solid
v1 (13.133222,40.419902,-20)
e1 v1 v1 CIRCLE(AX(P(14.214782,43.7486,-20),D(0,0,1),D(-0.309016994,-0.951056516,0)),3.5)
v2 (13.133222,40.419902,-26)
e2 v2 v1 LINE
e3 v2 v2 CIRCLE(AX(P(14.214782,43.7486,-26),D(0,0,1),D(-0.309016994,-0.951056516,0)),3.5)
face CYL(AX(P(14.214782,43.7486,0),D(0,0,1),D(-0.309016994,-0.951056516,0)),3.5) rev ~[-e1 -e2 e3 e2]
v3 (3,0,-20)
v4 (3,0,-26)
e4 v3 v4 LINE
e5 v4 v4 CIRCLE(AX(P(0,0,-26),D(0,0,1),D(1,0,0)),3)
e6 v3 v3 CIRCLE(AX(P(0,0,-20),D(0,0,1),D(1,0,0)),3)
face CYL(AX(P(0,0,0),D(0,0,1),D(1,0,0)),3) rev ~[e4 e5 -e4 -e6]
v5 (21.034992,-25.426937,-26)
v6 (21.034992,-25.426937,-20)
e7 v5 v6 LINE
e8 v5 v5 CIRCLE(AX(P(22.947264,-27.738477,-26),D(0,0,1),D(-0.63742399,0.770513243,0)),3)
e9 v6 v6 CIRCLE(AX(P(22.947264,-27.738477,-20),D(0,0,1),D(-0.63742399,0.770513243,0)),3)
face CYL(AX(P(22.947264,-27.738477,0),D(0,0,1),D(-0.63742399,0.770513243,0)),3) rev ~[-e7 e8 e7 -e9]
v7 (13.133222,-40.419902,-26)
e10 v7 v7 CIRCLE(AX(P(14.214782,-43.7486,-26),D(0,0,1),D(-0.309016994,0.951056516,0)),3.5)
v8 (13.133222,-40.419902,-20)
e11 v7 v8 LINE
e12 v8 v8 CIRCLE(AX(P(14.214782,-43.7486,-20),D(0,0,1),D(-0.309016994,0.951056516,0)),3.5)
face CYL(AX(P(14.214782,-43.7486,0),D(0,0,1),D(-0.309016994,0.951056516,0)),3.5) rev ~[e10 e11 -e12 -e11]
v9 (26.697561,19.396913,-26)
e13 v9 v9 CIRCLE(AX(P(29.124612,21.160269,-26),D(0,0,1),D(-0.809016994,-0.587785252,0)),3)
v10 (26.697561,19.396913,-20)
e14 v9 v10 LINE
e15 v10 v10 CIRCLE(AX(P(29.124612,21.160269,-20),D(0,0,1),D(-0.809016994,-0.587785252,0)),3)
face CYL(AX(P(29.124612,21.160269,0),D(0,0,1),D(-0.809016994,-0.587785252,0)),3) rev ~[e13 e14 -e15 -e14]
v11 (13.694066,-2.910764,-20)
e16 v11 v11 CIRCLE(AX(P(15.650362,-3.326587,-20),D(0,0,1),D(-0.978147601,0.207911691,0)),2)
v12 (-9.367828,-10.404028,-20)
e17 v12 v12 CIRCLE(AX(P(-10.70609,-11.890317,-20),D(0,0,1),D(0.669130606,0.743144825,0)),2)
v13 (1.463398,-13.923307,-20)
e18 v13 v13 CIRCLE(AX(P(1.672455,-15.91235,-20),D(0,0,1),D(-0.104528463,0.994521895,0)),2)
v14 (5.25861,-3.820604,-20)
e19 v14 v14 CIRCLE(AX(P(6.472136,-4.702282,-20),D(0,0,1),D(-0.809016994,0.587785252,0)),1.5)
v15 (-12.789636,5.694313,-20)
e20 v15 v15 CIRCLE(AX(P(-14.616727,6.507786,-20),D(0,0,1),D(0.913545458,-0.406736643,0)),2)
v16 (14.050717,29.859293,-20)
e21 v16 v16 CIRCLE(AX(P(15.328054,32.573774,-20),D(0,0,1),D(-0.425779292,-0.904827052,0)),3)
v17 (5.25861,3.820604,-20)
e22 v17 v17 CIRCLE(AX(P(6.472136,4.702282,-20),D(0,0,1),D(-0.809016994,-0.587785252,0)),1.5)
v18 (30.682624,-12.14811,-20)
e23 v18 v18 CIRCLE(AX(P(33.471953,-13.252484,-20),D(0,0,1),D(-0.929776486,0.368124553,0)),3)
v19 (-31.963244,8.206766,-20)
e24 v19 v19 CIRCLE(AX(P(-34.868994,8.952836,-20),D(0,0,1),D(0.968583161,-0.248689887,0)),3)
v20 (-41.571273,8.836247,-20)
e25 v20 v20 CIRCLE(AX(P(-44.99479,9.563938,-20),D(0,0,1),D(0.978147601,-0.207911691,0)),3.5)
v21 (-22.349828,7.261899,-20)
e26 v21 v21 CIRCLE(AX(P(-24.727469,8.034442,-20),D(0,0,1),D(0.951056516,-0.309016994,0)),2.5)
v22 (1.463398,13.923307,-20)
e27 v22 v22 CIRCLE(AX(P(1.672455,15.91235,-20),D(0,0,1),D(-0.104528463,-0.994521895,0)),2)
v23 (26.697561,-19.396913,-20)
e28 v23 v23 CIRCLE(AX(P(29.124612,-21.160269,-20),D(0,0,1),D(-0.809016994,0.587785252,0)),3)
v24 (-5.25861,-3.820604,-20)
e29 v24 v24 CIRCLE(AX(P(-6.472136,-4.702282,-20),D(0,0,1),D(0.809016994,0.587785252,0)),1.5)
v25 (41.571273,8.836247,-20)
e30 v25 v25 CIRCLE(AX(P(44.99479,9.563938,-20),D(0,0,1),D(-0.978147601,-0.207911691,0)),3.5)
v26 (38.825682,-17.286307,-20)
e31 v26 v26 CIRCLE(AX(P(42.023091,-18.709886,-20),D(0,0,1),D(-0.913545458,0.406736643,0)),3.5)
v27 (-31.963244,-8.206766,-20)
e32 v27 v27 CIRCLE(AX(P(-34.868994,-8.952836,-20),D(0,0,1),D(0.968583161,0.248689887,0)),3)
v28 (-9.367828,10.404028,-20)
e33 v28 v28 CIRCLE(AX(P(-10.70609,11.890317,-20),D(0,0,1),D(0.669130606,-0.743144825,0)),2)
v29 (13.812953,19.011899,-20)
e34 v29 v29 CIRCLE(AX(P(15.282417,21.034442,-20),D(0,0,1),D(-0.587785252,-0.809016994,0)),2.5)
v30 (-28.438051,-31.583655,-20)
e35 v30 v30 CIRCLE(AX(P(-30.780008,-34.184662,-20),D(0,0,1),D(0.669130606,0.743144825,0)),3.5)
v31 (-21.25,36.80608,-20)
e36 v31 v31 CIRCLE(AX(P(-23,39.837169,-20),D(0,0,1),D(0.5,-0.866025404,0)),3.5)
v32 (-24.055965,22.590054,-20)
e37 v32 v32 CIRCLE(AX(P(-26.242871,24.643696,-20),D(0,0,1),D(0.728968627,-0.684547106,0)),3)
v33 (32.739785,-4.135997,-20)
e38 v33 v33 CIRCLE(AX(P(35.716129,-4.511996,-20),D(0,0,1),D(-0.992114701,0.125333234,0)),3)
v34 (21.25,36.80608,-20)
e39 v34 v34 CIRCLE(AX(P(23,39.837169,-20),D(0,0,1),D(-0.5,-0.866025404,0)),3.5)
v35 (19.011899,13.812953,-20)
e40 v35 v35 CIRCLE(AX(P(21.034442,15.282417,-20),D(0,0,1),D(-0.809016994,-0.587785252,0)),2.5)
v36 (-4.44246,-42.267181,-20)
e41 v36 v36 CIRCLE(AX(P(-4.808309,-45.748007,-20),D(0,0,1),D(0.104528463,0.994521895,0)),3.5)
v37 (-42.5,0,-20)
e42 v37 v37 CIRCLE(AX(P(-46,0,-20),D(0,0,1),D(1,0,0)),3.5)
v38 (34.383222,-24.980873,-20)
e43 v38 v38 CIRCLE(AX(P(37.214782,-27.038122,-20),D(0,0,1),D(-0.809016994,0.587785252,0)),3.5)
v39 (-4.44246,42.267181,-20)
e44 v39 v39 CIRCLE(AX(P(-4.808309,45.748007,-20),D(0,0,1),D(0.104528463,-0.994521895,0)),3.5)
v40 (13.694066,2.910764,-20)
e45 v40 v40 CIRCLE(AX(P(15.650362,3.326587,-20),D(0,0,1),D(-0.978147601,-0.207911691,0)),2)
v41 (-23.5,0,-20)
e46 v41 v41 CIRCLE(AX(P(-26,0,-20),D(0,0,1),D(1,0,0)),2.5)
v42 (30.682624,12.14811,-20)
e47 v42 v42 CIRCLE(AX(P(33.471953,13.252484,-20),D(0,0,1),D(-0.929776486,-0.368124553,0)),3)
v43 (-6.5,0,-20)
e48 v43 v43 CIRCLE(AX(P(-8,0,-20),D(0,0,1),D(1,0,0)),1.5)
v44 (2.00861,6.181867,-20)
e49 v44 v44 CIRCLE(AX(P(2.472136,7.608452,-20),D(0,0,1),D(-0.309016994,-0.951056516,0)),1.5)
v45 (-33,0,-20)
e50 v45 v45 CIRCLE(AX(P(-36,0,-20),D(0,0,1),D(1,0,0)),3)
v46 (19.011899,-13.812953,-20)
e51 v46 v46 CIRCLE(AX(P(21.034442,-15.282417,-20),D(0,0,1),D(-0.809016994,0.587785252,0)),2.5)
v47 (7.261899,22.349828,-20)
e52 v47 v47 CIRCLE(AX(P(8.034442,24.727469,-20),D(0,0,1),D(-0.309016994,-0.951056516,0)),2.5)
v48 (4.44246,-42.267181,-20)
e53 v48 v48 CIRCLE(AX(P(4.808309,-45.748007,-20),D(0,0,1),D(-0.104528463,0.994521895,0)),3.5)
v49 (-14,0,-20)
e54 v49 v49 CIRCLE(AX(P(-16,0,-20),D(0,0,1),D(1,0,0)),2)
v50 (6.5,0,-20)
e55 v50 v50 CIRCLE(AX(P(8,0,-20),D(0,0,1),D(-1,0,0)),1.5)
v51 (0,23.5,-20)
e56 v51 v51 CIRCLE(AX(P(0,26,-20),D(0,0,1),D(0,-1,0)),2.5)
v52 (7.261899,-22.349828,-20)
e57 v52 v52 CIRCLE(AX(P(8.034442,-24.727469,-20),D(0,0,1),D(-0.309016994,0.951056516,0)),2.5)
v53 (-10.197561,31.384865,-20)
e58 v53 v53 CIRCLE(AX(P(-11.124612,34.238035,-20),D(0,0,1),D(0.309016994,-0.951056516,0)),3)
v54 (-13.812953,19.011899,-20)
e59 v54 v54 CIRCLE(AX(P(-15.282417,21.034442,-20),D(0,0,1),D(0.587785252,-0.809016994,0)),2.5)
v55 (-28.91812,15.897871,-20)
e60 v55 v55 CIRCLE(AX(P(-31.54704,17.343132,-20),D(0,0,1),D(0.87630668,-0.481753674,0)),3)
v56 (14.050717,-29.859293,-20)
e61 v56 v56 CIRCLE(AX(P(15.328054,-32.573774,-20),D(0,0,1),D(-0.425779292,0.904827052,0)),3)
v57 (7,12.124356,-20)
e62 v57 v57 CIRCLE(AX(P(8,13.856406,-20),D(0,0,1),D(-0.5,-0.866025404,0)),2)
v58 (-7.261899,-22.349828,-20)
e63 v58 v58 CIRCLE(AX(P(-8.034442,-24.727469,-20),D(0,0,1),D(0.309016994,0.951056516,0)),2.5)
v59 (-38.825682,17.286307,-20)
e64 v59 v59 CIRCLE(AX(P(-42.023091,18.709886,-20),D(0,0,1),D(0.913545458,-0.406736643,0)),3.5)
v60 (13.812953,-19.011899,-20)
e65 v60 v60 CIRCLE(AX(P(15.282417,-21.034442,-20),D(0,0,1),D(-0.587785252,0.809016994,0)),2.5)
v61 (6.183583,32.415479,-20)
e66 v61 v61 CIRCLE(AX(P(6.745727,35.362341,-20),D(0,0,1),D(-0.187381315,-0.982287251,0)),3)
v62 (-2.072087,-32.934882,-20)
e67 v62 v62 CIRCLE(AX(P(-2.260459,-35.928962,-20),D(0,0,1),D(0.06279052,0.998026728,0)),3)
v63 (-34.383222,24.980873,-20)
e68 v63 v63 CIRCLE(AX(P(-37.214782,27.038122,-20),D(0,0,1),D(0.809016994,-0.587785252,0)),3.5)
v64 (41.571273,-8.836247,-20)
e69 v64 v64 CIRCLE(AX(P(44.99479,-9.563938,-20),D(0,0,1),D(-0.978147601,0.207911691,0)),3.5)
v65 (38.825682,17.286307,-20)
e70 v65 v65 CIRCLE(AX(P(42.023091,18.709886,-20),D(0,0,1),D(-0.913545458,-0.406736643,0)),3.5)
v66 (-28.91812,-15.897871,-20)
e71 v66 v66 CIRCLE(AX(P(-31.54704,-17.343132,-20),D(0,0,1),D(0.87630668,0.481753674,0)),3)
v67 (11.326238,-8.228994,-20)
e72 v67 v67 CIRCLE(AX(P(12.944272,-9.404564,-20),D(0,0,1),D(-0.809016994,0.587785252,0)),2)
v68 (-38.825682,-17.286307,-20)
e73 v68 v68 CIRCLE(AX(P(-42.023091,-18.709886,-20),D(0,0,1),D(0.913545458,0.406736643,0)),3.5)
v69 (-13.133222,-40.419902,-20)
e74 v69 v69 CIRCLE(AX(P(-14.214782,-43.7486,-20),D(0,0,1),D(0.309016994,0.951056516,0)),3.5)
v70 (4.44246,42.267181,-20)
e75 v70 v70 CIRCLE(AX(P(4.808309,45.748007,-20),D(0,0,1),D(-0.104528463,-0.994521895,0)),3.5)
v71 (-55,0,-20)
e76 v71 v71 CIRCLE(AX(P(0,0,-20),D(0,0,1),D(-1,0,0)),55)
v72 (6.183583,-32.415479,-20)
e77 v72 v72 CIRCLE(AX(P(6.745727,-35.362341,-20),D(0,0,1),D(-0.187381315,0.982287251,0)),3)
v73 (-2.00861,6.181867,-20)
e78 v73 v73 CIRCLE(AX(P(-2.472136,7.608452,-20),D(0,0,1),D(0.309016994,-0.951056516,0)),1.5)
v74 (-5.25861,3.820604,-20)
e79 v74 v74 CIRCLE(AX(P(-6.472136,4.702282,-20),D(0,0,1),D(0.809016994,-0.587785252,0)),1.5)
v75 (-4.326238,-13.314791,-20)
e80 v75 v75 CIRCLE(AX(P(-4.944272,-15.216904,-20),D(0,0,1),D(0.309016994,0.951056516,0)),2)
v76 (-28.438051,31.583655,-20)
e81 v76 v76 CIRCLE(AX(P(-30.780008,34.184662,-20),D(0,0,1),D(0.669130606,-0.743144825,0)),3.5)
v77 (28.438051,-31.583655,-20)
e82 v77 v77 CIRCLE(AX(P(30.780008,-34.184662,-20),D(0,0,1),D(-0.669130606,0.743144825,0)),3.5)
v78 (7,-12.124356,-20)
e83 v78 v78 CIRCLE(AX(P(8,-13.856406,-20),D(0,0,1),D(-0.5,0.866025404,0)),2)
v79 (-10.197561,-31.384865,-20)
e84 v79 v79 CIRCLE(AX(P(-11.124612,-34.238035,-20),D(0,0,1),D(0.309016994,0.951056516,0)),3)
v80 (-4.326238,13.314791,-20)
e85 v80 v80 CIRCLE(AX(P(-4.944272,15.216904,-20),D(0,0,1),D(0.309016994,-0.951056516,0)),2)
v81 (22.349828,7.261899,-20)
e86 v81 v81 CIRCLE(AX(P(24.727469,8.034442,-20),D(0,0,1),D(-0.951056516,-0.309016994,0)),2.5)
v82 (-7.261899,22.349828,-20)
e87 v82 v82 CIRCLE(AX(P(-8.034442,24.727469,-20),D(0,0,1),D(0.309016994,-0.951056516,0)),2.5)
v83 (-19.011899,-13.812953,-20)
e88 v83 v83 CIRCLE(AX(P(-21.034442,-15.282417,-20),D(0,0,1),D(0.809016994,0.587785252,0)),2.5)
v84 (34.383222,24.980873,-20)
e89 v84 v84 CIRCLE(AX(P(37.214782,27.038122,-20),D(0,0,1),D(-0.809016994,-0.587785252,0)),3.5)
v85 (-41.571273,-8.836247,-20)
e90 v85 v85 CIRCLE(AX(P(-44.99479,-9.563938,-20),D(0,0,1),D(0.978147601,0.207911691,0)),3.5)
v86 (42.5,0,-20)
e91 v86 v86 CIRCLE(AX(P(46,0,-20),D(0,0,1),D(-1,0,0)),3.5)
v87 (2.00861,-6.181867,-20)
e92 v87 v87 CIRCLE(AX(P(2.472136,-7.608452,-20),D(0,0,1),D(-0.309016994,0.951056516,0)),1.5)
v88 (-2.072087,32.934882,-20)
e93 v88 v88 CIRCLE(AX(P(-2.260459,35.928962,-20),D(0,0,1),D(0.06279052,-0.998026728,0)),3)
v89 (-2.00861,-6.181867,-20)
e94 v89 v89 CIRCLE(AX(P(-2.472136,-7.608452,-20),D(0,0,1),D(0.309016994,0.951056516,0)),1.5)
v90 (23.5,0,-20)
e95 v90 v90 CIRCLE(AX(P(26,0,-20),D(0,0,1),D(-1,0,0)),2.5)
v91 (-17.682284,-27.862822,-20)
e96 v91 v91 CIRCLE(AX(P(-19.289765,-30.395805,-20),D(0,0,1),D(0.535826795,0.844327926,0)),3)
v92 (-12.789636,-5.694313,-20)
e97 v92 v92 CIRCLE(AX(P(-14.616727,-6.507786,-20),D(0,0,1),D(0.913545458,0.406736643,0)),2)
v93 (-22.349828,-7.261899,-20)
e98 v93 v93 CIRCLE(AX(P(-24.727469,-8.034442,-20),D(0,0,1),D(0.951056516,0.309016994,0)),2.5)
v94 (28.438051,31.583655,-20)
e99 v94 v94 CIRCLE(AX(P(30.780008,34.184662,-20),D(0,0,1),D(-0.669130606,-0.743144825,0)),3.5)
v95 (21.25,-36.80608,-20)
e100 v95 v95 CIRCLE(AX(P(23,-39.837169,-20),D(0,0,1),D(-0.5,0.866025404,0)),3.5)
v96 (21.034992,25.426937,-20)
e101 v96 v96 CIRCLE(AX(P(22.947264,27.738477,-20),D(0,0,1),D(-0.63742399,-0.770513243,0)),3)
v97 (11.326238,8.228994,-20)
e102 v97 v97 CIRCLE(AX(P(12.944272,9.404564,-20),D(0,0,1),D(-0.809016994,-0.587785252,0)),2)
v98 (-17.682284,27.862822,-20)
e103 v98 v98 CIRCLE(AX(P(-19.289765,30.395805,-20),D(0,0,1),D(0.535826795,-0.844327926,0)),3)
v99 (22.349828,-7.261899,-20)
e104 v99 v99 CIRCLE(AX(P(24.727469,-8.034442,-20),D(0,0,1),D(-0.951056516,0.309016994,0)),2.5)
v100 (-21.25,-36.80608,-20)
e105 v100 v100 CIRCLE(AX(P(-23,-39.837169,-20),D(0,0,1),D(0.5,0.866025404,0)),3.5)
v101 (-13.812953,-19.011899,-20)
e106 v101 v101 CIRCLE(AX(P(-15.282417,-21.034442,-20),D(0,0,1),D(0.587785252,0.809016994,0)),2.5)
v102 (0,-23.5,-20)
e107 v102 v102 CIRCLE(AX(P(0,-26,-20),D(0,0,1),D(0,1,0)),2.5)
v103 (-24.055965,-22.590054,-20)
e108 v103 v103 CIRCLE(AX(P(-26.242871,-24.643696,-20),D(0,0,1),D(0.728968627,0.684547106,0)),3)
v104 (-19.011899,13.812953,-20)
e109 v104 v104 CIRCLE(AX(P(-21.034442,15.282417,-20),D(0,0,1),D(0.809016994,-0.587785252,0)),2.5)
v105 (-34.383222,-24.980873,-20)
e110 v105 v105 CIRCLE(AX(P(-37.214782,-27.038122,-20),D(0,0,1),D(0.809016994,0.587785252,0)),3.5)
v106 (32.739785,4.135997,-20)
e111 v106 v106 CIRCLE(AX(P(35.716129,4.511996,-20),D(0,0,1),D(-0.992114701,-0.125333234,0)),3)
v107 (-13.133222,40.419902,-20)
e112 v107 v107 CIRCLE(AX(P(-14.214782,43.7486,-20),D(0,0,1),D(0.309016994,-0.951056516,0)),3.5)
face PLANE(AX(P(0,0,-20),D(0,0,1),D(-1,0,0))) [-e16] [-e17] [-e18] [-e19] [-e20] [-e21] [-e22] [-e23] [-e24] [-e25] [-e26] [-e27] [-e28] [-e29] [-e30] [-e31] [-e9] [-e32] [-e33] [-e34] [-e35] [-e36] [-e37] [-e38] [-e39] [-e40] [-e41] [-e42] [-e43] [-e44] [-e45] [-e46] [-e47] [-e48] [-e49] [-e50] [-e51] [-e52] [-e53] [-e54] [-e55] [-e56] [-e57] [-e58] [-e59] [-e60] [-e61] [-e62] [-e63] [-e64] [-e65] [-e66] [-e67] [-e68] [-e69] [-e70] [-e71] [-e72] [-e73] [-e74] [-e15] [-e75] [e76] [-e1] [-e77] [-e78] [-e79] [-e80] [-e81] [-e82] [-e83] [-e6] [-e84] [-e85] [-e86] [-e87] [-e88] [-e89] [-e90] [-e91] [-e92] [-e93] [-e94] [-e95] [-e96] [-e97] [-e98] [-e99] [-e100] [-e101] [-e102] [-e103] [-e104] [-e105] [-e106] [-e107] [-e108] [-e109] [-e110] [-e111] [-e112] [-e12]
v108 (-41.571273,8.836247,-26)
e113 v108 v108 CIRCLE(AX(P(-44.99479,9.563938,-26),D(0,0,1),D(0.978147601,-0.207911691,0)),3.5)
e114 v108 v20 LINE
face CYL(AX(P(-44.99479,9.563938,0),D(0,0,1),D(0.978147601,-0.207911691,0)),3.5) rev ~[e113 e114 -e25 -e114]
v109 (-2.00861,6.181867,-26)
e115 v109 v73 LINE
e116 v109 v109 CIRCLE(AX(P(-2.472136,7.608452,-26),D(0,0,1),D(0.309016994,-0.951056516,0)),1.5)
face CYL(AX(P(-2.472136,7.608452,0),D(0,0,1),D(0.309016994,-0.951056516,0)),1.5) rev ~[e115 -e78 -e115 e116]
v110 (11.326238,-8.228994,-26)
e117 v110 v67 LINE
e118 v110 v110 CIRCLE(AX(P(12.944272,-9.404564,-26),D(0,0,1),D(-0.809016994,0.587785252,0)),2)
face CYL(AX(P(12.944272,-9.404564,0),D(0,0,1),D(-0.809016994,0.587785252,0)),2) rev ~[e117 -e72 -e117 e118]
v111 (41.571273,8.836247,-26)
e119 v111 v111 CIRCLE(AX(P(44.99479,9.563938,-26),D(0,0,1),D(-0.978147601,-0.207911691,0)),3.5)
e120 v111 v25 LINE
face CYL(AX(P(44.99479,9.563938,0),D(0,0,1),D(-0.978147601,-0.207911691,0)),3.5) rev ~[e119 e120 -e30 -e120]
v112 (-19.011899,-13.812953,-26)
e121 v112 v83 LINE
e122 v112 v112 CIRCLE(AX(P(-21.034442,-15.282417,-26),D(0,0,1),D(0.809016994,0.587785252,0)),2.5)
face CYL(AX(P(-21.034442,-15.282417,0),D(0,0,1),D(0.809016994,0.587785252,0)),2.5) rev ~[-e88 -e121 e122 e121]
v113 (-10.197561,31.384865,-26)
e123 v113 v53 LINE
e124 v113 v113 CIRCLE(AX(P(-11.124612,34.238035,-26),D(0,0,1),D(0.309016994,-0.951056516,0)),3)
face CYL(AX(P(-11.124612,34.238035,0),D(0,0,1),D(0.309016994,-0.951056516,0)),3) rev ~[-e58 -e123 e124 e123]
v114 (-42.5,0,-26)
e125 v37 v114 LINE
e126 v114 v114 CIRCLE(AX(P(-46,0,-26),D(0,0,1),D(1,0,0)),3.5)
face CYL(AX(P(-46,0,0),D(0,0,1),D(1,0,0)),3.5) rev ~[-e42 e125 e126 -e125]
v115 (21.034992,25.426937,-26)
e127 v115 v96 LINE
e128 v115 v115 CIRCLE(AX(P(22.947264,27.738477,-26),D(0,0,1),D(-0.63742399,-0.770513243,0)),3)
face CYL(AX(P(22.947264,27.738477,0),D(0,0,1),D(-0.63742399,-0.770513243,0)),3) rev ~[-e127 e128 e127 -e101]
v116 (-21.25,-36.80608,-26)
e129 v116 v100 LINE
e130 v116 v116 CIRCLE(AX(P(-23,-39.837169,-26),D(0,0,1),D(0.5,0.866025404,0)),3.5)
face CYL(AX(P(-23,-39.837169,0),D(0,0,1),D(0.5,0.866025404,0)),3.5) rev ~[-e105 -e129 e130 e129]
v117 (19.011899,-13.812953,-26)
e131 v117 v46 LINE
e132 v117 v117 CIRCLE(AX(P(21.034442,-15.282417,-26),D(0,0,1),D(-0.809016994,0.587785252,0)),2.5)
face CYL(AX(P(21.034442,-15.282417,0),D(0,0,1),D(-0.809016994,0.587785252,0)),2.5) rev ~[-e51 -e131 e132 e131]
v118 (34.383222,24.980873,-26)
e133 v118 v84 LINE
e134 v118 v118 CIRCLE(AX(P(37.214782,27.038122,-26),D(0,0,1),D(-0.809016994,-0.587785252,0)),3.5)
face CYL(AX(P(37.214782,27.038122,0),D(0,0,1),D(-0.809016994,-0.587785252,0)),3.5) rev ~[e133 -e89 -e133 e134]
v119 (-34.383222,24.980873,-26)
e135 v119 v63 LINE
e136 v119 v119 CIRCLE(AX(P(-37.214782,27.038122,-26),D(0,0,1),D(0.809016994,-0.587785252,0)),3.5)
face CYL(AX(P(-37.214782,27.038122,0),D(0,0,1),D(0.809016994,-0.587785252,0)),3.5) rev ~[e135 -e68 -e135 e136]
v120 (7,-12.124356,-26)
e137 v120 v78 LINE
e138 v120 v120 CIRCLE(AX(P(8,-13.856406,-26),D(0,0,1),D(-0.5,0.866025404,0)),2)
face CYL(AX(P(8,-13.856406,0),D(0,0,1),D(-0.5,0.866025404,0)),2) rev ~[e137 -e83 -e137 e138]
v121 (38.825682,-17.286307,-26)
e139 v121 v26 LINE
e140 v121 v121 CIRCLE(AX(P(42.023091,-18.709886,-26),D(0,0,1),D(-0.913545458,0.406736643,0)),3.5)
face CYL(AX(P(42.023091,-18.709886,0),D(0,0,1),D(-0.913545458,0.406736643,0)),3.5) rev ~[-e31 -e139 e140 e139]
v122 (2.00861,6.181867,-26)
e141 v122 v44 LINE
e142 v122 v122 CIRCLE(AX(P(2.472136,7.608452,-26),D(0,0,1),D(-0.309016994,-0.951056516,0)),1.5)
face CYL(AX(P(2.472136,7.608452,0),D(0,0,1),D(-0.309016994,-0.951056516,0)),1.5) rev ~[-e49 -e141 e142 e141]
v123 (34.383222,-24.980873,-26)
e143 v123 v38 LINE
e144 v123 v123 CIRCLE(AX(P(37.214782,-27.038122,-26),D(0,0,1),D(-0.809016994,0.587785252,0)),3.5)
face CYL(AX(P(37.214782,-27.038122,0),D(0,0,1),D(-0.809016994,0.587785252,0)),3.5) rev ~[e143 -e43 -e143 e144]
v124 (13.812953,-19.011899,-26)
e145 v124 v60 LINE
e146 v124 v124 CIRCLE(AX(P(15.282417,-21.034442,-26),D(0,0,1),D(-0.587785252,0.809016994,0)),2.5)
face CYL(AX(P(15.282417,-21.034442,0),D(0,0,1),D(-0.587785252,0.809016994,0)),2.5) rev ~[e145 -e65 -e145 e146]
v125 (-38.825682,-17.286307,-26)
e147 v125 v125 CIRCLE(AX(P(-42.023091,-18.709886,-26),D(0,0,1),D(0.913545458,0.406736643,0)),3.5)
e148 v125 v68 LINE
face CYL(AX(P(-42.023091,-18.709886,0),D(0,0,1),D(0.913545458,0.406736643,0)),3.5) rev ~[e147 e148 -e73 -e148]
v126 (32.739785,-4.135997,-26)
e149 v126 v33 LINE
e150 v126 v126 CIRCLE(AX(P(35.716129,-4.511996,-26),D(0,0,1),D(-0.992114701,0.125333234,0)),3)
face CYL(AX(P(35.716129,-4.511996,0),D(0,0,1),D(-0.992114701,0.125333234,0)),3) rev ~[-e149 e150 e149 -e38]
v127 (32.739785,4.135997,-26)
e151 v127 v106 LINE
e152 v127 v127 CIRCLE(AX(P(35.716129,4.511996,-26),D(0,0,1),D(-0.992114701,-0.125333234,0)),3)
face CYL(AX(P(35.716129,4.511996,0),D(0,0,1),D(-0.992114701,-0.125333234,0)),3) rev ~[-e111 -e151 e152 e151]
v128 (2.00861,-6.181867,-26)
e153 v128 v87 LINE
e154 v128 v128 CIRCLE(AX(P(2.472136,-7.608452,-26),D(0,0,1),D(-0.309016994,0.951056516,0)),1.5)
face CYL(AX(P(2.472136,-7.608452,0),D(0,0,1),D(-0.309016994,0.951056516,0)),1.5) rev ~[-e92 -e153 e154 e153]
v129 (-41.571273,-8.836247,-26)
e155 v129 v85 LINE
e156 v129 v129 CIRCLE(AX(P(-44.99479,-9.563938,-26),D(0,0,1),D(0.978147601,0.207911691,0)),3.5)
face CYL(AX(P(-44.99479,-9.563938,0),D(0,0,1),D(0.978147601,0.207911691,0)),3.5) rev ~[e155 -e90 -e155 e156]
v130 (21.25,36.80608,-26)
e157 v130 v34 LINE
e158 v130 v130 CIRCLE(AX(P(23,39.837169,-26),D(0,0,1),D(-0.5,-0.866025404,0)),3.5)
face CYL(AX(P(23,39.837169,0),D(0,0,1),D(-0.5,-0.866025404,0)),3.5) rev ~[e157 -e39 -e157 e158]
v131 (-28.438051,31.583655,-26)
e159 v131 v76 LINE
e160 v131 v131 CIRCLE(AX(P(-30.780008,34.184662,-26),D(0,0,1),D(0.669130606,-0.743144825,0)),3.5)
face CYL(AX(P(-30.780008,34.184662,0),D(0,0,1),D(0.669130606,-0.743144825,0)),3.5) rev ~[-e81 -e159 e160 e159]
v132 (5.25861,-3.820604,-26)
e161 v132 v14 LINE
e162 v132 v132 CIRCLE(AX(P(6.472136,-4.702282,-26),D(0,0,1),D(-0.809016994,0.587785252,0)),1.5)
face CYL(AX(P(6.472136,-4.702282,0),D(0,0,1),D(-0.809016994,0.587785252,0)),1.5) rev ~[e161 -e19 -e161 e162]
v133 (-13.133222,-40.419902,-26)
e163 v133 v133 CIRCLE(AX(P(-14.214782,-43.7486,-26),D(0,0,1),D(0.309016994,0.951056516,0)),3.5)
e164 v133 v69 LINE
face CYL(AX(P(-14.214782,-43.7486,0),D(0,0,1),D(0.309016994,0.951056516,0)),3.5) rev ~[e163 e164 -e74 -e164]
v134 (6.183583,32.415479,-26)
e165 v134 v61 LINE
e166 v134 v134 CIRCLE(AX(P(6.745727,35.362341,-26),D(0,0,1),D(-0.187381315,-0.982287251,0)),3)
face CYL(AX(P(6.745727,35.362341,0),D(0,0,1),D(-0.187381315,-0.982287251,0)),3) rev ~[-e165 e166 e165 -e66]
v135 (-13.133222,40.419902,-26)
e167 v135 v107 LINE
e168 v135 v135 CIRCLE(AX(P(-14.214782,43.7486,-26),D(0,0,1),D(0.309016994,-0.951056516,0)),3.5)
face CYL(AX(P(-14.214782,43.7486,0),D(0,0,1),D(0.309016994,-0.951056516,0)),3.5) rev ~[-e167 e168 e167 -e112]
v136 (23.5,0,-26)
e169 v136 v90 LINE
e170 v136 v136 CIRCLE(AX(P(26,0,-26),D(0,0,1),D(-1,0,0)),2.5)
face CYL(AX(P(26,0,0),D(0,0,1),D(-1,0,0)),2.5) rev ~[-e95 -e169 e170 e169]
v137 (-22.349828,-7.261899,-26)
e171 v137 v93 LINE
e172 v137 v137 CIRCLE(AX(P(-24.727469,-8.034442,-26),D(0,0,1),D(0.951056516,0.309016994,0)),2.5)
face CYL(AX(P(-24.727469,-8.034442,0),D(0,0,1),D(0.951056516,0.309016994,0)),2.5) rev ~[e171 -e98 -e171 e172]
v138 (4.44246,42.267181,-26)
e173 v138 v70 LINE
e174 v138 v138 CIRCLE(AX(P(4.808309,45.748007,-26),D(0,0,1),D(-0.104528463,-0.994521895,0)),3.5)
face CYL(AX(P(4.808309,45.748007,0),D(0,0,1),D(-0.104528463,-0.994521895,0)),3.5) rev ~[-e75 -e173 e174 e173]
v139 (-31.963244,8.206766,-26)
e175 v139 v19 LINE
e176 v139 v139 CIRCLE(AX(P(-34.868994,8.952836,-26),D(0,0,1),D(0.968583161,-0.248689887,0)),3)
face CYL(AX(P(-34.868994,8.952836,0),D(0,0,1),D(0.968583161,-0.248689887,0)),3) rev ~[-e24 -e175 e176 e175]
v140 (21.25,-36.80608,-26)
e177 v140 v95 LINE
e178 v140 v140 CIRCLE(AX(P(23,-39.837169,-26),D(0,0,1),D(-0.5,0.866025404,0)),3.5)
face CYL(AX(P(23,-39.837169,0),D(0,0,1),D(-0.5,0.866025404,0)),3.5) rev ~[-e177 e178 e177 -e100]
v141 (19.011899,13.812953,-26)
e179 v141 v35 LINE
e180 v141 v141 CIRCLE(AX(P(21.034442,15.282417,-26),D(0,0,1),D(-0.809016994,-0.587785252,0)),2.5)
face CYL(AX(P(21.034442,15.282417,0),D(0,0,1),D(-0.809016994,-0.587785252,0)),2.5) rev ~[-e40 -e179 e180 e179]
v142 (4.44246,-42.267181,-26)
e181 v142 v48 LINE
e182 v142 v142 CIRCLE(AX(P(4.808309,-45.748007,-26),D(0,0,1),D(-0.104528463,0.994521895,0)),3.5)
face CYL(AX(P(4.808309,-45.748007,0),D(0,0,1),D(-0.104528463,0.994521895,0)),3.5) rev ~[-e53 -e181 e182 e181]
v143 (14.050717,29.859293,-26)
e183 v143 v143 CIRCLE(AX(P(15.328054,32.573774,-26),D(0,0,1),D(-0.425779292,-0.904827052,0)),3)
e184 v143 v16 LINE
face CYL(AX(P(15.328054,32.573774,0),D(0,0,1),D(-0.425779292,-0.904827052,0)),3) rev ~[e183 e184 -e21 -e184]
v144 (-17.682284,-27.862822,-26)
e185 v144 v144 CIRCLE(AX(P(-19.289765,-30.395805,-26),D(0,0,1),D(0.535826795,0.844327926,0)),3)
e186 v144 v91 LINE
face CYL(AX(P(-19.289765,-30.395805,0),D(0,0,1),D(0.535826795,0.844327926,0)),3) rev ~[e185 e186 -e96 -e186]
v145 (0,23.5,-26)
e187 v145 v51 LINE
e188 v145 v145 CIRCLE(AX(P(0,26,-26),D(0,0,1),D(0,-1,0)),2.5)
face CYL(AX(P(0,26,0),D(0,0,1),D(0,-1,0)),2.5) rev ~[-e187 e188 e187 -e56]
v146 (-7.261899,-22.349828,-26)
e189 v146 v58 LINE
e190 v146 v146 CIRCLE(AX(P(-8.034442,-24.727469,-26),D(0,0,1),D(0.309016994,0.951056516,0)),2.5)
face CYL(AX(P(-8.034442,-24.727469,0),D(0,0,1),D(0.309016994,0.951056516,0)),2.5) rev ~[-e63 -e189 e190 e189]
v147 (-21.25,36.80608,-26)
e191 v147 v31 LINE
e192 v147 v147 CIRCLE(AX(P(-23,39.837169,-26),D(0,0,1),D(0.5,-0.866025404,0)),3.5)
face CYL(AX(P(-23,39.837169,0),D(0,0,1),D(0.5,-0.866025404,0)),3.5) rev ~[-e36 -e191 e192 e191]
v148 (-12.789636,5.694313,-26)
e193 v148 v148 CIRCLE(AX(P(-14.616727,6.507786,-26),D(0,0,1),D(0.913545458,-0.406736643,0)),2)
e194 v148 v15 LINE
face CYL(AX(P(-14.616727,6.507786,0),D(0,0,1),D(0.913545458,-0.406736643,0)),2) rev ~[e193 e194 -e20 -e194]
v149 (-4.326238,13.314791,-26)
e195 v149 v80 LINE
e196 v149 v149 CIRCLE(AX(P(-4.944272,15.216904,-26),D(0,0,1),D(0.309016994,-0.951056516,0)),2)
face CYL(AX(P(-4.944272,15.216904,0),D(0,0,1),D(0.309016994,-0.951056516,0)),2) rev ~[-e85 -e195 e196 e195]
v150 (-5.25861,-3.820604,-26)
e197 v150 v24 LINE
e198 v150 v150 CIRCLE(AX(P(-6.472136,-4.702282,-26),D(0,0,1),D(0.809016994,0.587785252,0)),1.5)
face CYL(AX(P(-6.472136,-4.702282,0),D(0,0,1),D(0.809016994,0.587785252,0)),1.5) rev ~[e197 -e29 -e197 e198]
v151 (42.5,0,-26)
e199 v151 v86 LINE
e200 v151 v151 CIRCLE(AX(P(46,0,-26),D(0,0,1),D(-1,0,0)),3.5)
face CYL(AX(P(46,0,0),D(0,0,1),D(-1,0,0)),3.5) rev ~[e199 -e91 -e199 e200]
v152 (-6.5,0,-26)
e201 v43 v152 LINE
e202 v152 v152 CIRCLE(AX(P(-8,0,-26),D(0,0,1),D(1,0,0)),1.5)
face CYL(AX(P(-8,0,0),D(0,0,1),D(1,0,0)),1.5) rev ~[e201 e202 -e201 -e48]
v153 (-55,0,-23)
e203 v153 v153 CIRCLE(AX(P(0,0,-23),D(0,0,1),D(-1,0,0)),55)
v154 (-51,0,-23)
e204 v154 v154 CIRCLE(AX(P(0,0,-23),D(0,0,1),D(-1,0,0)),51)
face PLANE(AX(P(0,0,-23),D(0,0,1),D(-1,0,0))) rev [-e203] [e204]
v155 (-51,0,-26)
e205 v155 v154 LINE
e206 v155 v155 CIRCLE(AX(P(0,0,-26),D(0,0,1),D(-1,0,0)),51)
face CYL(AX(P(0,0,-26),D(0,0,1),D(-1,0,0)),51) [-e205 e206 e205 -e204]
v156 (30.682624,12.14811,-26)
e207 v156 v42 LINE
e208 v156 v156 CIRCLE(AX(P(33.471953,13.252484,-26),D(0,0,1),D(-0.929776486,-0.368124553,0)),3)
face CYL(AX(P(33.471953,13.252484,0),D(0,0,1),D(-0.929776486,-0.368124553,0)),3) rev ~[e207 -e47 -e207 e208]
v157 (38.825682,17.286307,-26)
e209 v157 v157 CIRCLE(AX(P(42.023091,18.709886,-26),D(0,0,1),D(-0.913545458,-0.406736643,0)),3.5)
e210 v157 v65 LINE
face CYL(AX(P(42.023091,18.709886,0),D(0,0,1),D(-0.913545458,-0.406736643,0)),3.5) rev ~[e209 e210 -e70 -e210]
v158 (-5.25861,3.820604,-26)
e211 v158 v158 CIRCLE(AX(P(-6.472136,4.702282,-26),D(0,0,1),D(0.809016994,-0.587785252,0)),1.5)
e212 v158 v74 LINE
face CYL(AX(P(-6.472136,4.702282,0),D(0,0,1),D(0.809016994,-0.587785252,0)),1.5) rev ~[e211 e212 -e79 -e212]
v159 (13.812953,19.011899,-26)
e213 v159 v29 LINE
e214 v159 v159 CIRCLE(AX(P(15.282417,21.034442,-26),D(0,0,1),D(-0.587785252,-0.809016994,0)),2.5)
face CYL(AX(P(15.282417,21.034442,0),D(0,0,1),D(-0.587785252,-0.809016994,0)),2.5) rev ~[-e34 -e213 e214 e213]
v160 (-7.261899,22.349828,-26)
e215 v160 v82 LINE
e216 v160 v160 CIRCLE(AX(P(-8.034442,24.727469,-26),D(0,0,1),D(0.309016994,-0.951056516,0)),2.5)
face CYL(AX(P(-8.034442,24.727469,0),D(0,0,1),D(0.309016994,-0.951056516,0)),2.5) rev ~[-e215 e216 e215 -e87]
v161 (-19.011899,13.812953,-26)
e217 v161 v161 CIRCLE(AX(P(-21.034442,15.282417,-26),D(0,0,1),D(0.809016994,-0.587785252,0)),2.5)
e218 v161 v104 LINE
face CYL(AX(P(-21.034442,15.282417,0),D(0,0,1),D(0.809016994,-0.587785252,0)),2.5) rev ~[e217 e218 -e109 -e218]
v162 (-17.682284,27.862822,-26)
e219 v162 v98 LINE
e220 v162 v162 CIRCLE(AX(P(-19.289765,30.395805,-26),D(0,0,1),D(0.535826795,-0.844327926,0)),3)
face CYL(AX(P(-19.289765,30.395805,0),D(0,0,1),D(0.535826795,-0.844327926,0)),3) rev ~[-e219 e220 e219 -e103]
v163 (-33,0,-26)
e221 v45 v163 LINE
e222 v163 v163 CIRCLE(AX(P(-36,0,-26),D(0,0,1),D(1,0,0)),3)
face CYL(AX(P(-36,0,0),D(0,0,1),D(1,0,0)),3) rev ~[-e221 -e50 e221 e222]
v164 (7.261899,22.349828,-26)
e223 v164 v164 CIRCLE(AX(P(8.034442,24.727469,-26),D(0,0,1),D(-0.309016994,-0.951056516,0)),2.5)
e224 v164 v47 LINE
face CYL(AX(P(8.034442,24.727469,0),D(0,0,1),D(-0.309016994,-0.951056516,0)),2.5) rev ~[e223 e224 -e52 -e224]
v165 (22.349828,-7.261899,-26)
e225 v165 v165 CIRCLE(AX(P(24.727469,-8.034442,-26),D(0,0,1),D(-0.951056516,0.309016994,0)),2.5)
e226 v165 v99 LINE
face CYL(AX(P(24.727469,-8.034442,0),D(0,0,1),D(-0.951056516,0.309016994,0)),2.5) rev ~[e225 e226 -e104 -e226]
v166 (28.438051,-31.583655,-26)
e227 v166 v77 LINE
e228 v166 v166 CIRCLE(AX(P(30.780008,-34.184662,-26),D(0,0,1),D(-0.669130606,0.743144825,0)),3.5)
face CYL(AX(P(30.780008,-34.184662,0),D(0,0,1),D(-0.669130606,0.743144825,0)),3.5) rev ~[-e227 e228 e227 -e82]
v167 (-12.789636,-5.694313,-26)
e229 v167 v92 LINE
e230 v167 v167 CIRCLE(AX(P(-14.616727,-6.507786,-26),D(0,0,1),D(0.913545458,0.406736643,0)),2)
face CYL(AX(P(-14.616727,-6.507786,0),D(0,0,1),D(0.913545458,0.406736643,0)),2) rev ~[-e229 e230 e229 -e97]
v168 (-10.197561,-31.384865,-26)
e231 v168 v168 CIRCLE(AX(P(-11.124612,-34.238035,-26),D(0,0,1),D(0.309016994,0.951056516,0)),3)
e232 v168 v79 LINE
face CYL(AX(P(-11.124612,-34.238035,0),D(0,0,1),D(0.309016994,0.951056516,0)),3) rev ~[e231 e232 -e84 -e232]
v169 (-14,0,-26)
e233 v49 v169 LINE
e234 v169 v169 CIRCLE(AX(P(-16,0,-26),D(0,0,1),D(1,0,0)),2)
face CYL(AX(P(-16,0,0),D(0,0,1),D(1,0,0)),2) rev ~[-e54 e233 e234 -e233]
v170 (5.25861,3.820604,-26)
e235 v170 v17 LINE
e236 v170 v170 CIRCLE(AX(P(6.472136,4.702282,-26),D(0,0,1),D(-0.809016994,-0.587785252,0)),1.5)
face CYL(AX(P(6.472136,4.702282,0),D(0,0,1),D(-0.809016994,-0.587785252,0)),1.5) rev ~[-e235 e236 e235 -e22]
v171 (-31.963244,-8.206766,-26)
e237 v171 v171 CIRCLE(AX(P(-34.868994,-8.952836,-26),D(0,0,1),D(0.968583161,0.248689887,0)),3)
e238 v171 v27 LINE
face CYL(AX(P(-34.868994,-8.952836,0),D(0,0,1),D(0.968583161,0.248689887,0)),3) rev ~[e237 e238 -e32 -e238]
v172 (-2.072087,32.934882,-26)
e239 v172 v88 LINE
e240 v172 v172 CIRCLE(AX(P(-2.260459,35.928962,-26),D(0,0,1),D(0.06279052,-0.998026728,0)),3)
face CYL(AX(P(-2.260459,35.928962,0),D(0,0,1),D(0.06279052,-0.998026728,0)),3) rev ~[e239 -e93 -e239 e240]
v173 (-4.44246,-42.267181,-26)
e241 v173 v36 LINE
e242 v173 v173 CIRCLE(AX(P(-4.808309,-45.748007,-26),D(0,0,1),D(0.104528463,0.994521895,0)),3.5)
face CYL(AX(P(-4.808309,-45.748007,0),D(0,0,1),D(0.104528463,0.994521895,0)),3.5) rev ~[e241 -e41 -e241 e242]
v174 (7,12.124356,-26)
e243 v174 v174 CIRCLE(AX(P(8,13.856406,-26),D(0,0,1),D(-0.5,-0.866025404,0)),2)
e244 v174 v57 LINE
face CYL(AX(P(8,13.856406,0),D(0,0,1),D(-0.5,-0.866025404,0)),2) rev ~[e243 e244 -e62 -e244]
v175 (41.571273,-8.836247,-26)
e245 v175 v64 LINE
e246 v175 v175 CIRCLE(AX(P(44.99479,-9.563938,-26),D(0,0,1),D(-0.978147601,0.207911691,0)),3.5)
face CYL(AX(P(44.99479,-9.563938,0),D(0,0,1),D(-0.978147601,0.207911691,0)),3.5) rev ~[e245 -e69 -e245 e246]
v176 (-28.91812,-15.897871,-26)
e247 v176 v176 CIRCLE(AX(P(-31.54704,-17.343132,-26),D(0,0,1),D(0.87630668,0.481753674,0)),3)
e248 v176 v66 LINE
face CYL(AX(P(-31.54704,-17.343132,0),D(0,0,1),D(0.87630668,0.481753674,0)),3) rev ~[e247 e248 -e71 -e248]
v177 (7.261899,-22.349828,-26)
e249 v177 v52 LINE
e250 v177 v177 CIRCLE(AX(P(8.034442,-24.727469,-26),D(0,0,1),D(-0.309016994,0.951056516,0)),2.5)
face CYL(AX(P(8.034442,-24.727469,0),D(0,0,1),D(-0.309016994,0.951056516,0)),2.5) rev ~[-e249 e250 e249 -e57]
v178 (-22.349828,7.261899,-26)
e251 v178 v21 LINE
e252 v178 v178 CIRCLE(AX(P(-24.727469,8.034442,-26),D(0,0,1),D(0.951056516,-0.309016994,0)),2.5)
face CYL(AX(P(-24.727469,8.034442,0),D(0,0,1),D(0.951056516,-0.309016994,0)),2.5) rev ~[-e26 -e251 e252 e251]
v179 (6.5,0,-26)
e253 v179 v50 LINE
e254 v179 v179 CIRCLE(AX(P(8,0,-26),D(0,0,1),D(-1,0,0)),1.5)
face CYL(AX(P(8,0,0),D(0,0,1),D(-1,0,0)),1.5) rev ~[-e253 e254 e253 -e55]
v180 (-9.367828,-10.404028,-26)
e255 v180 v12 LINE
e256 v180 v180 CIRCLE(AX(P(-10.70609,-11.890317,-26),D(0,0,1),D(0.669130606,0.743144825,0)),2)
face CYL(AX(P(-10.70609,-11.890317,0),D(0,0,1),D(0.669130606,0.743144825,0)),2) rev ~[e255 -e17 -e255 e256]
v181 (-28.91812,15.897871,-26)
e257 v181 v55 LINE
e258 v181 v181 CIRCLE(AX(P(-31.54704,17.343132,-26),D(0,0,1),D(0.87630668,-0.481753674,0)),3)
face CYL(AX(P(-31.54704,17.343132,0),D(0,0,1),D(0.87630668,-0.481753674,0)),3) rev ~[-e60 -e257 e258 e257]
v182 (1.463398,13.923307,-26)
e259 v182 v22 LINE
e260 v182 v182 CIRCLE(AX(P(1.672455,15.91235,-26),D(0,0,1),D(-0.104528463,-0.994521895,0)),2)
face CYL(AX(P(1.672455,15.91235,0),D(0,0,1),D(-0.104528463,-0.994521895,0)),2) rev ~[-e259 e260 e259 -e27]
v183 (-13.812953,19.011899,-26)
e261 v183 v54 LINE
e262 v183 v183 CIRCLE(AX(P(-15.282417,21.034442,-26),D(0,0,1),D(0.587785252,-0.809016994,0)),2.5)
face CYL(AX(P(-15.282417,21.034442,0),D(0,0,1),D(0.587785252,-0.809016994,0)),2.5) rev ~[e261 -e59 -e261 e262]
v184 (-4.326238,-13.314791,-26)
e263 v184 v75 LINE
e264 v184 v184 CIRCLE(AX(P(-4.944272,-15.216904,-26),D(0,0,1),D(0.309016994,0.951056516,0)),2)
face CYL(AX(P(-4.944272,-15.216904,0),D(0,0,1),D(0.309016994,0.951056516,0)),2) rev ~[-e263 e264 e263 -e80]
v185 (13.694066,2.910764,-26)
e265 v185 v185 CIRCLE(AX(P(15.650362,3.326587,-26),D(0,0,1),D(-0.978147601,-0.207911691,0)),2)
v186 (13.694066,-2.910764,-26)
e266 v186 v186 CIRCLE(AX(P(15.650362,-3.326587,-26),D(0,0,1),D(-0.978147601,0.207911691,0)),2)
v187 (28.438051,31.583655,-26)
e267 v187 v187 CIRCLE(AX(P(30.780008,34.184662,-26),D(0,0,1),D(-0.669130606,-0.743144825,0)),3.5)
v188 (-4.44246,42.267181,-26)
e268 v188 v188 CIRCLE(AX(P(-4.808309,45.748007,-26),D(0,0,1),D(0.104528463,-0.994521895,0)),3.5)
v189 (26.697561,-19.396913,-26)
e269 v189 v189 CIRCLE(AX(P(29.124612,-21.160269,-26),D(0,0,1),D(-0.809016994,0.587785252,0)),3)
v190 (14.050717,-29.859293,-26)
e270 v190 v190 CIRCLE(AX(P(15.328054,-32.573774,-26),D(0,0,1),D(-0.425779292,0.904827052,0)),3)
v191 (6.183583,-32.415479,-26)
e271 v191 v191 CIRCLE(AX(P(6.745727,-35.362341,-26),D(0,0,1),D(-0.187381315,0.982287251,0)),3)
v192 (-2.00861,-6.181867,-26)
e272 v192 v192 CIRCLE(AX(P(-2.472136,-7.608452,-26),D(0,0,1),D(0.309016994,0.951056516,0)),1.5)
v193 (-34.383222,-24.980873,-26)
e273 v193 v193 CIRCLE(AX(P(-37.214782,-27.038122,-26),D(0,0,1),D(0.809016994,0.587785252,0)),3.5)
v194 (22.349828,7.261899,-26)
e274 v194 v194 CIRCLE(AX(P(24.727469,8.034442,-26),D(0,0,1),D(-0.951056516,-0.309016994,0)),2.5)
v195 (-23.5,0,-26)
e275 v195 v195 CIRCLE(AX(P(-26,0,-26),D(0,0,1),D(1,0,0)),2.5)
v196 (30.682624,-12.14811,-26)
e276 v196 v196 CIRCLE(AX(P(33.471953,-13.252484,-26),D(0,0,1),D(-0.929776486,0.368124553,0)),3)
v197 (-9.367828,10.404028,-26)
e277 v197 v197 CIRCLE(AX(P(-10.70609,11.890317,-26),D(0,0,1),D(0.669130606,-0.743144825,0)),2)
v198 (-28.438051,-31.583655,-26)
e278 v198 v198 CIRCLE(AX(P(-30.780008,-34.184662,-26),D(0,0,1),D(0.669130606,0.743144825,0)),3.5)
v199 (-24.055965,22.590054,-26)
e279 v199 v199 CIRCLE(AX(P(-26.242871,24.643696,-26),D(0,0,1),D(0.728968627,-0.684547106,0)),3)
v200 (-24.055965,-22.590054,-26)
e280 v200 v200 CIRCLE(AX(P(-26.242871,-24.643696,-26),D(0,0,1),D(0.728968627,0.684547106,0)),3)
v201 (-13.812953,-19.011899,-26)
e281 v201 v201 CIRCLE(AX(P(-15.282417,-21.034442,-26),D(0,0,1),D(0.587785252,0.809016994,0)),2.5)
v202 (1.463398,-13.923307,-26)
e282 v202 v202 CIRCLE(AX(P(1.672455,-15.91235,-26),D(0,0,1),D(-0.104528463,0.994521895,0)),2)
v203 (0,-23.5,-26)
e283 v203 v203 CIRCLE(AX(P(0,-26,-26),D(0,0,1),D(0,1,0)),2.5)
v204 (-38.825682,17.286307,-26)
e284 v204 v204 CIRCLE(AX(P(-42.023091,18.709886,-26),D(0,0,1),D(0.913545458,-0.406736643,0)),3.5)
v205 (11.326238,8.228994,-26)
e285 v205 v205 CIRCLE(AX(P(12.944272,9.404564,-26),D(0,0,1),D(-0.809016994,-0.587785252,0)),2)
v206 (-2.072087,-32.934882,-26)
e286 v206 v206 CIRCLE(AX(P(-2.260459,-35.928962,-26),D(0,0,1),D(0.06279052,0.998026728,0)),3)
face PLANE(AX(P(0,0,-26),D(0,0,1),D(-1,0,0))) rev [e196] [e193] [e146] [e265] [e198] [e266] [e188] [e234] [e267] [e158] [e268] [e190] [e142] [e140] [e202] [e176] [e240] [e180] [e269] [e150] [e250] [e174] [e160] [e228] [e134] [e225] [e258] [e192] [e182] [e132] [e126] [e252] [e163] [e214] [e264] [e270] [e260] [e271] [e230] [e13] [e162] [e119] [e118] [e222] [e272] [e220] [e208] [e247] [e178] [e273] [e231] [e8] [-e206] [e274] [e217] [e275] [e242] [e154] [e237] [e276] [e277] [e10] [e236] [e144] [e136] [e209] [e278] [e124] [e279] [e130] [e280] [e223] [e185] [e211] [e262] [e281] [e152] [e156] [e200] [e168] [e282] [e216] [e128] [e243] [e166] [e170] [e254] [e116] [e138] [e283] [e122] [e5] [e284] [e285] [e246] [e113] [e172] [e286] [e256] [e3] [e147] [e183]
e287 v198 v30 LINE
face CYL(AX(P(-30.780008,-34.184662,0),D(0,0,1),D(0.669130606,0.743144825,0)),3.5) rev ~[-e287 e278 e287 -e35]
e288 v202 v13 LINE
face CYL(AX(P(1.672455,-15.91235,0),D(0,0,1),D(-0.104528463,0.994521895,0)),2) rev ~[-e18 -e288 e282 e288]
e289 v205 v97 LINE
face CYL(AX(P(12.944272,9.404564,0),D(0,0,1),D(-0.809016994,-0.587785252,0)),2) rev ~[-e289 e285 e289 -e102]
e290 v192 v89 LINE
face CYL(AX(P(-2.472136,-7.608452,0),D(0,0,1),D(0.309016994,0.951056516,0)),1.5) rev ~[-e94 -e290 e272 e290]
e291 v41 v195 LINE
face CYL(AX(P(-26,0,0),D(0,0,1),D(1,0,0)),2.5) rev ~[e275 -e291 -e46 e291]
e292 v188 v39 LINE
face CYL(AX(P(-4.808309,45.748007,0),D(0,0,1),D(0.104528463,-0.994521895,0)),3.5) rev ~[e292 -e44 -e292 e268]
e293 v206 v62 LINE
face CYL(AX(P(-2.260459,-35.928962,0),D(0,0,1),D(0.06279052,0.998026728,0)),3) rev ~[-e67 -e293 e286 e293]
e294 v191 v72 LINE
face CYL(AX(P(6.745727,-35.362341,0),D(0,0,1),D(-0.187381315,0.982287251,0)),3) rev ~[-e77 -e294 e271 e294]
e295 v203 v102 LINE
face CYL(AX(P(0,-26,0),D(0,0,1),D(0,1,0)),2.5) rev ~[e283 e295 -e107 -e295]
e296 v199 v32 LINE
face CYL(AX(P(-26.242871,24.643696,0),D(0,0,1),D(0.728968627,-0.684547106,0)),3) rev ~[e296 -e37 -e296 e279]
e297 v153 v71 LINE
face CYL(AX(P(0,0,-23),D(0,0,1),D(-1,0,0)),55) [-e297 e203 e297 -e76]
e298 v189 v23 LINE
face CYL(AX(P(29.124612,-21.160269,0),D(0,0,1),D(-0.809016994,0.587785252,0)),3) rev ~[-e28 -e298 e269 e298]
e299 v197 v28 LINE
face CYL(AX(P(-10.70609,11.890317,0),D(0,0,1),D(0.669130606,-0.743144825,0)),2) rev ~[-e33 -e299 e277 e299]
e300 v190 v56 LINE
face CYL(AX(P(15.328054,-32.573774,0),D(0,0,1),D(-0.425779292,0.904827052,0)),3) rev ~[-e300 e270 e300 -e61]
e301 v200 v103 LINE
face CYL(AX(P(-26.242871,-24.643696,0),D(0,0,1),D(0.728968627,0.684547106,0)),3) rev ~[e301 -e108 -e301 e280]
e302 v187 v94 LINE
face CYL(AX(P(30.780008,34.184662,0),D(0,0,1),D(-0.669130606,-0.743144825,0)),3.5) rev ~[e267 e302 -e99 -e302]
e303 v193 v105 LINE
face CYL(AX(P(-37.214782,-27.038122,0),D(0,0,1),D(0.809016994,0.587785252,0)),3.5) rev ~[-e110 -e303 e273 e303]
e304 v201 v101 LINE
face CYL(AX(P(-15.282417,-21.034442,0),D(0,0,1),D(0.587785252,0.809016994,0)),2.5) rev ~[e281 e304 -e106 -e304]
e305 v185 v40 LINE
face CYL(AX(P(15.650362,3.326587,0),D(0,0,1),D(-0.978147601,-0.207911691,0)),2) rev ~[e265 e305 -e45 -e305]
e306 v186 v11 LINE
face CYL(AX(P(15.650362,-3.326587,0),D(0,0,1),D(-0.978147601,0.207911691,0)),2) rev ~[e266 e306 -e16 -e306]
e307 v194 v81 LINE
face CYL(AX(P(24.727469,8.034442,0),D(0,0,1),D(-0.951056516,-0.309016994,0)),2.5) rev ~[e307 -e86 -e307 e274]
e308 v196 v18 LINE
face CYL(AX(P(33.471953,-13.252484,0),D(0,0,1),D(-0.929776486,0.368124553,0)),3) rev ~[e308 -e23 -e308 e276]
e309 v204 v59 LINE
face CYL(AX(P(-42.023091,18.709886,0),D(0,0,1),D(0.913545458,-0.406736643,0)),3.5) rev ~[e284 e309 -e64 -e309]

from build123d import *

# Parameters (mm, degrees)
SKETCH020_R           = 3.5
POCKET008_DEPTH       = 100
POCKET008_DEPTH_BACK  = 100
POLARPATTERN005_COUNT = 30
SKETCH021_R           = 3
POCKET009_DEPTH       = 100
POCKET009_DEPTH_BACK  = 100
POLARPATTERN006_COUNT = 25
SKETCH022_R           = 2.5
POCKET010_DEPTH       = 100
POCKET010_DEPTH_BACK  = 100
POLARPATTERN007_COUNT = 20
SKETCH023_R           = 2
POCKET011_DEPTH       = 100
POCKET011_DEPTH_BACK  = 100
POLARPATTERN008_COUNT = 15
SKETCH024_R           = 1.5
POCKET012_DEPTH       = 100
POCKET012_DEPTH_BACK  = 100
POLARPATTERN009_COUNT = 10
SKETCH025_R           = 3
POCKET013_DEPTH       = 100
POCKET013_DEPTH_BACK  = 100


with BuildPart() as part:
    # Sketch019 → Revolution003 (revolve)
    with BuildSketch(Plane.XZ):
        Polygon((-55, -20), (0, -20), (0, -26), (-51, -26), (-51, -23), (-55, -23), align=None)
    revolve(axis=Axis((0, 0, 0), (0, 0, 1)))

    # Sketch020 → Pocket008 (cut, two sides)
    with BuildSketch(Plane.XY) as pocket008_sk:
        with Locations((-46, 0)):
            Circle(SKETCH020_R)
    pocket008 = extrude(amount=-POCKET008_DEPTH, mode=Mode.SUBTRACT) + extrude(pocket008_sk.sketch, amount=POCKET008_DEPTH_BACK, mode=Mode.SUBTRACT)

    # PolarPattern005: Pocket008 ×30 about axis
    polarpattern005_axis = Axis((0, 0, 0), (0, 0, 1))
    for i in range(1, POLARPATTERN005_COUNT):
        add(pocket008.rotate(polarpattern005_axis, i * 360 / POLARPATTERN005_COUNT), mode=Mode.SUBTRACT)

    # Sketch021 → Pocket009 (cut, two sides)
    with BuildSketch(Plane.XY) as pocket009_sk:
        with Locations((-36, 0)):
            Circle(SKETCH021_R)
    pocket009 = extrude(amount=-POCKET009_DEPTH, mode=Mode.SUBTRACT) + extrude(pocket009_sk.sketch, amount=POCKET009_DEPTH_BACK, mode=Mode.SUBTRACT)

    # PolarPattern006: Pocket009 ×25 about axis
    polarpattern006_axis = Axis((0, 0, 0), (0, 0, 1))
    for i in range(1, POLARPATTERN006_COUNT):
        add(pocket009.rotate(polarpattern006_axis, i * 360 / POLARPATTERN006_COUNT), mode=Mode.SUBTRACT)

    # Sketch022 → Pocket010 (cut, two sides)
    with BuildSketch(Plane.XY) as pocket010_sk:
        with Locations((-26, 0)):
            Circle(SKETCH022_R)
    pocket010 = extrude(amount=-POCKET010_DEPTH, mode=Mode.SUBTRACT) + extrude(pocket010_sk.sketch, amount=POCKET010_DEPTH_BACK, mode=Mode.SUBTRACT)

    # PolarPattern007: Pocket010 ×20 about axis
    polarpattern007_axis = Axis((0, 0, 0), (0, 0, 1))
    for i in range(1, POLARPATTERN007_COUNT):
        add(pocket010.rotate(polarpattern007_axis, i * 360 / POLARPATTERN007_COUNT), mode=Mode.SUBTRACT)

    # Sketch023 → Pocket011 (cut, two sides)
    with BuildSketch(Plane.XY) as pocket011_sk:
        with Locations((-16, 0)):
            Circle(SKETCH023_R)
    pocket011 = extrude(amount=-POCKET011_DEPTH, mode=Mode.SUBTRACT) + extrude(pocket011_sk.sketch, amount=POCKET011_DEPTH_BACK, mode=Mode.SUBTRACT)

    # PolarPattern008: Pocket011 ×15 about axis
    polarpattern008_axis = Axis((0, 0, 0), (0, 0, 1))
    for i in range(1, POLARPATTERN008_COUNT):
        add(pocket011.rotate(polarpattern008_axis, i * 360 / POLARPATTERN008_COUNT), mode=Mode.SUBTRACT)

    # Sketch024 → Pocket012 (cut, two sides)
    with BuildSketch(Plane.XY) as pocket012_sk:
        with Locations((-8, 0)):
            Circle(SKETCH024_R)
    pocket012 = extrude(amount=-POCKET012_DEPTH, mode=Mode.SUBTRACT) + extrude(pocket012_sk.sketch, amount=POCKET012_DEPTH_BACK, mode=Mode.SUBTRACT)

    # PolarPattern009: Pocket012 ×10 about axis
    polarpattern009_axis = Axis((0, 0, 0), (0, 0, 1))
    for i in range(1, POLARPATTERN009_COUNT):
        add(pocket012.rotate(polarpattern009_axis, i * 360 / POLARPATTERN009_COUNT), mode=Mode.SUBTRACT)

    # Sketch025 → Pocket013 (cut, two sides)
    with BuildSketch(Plane.XY) as pocket013_sk:
        Circle(SKETCH025_R)
    extrude(amount=-POCKET013_DEPTH, mode=Mode.SUBTRACT)
    extrude(pocket013_sk.sketch, amount=POCKET013_DEPTH_BACK, mode=Mode.SUBTRACT)


solid = part.part
